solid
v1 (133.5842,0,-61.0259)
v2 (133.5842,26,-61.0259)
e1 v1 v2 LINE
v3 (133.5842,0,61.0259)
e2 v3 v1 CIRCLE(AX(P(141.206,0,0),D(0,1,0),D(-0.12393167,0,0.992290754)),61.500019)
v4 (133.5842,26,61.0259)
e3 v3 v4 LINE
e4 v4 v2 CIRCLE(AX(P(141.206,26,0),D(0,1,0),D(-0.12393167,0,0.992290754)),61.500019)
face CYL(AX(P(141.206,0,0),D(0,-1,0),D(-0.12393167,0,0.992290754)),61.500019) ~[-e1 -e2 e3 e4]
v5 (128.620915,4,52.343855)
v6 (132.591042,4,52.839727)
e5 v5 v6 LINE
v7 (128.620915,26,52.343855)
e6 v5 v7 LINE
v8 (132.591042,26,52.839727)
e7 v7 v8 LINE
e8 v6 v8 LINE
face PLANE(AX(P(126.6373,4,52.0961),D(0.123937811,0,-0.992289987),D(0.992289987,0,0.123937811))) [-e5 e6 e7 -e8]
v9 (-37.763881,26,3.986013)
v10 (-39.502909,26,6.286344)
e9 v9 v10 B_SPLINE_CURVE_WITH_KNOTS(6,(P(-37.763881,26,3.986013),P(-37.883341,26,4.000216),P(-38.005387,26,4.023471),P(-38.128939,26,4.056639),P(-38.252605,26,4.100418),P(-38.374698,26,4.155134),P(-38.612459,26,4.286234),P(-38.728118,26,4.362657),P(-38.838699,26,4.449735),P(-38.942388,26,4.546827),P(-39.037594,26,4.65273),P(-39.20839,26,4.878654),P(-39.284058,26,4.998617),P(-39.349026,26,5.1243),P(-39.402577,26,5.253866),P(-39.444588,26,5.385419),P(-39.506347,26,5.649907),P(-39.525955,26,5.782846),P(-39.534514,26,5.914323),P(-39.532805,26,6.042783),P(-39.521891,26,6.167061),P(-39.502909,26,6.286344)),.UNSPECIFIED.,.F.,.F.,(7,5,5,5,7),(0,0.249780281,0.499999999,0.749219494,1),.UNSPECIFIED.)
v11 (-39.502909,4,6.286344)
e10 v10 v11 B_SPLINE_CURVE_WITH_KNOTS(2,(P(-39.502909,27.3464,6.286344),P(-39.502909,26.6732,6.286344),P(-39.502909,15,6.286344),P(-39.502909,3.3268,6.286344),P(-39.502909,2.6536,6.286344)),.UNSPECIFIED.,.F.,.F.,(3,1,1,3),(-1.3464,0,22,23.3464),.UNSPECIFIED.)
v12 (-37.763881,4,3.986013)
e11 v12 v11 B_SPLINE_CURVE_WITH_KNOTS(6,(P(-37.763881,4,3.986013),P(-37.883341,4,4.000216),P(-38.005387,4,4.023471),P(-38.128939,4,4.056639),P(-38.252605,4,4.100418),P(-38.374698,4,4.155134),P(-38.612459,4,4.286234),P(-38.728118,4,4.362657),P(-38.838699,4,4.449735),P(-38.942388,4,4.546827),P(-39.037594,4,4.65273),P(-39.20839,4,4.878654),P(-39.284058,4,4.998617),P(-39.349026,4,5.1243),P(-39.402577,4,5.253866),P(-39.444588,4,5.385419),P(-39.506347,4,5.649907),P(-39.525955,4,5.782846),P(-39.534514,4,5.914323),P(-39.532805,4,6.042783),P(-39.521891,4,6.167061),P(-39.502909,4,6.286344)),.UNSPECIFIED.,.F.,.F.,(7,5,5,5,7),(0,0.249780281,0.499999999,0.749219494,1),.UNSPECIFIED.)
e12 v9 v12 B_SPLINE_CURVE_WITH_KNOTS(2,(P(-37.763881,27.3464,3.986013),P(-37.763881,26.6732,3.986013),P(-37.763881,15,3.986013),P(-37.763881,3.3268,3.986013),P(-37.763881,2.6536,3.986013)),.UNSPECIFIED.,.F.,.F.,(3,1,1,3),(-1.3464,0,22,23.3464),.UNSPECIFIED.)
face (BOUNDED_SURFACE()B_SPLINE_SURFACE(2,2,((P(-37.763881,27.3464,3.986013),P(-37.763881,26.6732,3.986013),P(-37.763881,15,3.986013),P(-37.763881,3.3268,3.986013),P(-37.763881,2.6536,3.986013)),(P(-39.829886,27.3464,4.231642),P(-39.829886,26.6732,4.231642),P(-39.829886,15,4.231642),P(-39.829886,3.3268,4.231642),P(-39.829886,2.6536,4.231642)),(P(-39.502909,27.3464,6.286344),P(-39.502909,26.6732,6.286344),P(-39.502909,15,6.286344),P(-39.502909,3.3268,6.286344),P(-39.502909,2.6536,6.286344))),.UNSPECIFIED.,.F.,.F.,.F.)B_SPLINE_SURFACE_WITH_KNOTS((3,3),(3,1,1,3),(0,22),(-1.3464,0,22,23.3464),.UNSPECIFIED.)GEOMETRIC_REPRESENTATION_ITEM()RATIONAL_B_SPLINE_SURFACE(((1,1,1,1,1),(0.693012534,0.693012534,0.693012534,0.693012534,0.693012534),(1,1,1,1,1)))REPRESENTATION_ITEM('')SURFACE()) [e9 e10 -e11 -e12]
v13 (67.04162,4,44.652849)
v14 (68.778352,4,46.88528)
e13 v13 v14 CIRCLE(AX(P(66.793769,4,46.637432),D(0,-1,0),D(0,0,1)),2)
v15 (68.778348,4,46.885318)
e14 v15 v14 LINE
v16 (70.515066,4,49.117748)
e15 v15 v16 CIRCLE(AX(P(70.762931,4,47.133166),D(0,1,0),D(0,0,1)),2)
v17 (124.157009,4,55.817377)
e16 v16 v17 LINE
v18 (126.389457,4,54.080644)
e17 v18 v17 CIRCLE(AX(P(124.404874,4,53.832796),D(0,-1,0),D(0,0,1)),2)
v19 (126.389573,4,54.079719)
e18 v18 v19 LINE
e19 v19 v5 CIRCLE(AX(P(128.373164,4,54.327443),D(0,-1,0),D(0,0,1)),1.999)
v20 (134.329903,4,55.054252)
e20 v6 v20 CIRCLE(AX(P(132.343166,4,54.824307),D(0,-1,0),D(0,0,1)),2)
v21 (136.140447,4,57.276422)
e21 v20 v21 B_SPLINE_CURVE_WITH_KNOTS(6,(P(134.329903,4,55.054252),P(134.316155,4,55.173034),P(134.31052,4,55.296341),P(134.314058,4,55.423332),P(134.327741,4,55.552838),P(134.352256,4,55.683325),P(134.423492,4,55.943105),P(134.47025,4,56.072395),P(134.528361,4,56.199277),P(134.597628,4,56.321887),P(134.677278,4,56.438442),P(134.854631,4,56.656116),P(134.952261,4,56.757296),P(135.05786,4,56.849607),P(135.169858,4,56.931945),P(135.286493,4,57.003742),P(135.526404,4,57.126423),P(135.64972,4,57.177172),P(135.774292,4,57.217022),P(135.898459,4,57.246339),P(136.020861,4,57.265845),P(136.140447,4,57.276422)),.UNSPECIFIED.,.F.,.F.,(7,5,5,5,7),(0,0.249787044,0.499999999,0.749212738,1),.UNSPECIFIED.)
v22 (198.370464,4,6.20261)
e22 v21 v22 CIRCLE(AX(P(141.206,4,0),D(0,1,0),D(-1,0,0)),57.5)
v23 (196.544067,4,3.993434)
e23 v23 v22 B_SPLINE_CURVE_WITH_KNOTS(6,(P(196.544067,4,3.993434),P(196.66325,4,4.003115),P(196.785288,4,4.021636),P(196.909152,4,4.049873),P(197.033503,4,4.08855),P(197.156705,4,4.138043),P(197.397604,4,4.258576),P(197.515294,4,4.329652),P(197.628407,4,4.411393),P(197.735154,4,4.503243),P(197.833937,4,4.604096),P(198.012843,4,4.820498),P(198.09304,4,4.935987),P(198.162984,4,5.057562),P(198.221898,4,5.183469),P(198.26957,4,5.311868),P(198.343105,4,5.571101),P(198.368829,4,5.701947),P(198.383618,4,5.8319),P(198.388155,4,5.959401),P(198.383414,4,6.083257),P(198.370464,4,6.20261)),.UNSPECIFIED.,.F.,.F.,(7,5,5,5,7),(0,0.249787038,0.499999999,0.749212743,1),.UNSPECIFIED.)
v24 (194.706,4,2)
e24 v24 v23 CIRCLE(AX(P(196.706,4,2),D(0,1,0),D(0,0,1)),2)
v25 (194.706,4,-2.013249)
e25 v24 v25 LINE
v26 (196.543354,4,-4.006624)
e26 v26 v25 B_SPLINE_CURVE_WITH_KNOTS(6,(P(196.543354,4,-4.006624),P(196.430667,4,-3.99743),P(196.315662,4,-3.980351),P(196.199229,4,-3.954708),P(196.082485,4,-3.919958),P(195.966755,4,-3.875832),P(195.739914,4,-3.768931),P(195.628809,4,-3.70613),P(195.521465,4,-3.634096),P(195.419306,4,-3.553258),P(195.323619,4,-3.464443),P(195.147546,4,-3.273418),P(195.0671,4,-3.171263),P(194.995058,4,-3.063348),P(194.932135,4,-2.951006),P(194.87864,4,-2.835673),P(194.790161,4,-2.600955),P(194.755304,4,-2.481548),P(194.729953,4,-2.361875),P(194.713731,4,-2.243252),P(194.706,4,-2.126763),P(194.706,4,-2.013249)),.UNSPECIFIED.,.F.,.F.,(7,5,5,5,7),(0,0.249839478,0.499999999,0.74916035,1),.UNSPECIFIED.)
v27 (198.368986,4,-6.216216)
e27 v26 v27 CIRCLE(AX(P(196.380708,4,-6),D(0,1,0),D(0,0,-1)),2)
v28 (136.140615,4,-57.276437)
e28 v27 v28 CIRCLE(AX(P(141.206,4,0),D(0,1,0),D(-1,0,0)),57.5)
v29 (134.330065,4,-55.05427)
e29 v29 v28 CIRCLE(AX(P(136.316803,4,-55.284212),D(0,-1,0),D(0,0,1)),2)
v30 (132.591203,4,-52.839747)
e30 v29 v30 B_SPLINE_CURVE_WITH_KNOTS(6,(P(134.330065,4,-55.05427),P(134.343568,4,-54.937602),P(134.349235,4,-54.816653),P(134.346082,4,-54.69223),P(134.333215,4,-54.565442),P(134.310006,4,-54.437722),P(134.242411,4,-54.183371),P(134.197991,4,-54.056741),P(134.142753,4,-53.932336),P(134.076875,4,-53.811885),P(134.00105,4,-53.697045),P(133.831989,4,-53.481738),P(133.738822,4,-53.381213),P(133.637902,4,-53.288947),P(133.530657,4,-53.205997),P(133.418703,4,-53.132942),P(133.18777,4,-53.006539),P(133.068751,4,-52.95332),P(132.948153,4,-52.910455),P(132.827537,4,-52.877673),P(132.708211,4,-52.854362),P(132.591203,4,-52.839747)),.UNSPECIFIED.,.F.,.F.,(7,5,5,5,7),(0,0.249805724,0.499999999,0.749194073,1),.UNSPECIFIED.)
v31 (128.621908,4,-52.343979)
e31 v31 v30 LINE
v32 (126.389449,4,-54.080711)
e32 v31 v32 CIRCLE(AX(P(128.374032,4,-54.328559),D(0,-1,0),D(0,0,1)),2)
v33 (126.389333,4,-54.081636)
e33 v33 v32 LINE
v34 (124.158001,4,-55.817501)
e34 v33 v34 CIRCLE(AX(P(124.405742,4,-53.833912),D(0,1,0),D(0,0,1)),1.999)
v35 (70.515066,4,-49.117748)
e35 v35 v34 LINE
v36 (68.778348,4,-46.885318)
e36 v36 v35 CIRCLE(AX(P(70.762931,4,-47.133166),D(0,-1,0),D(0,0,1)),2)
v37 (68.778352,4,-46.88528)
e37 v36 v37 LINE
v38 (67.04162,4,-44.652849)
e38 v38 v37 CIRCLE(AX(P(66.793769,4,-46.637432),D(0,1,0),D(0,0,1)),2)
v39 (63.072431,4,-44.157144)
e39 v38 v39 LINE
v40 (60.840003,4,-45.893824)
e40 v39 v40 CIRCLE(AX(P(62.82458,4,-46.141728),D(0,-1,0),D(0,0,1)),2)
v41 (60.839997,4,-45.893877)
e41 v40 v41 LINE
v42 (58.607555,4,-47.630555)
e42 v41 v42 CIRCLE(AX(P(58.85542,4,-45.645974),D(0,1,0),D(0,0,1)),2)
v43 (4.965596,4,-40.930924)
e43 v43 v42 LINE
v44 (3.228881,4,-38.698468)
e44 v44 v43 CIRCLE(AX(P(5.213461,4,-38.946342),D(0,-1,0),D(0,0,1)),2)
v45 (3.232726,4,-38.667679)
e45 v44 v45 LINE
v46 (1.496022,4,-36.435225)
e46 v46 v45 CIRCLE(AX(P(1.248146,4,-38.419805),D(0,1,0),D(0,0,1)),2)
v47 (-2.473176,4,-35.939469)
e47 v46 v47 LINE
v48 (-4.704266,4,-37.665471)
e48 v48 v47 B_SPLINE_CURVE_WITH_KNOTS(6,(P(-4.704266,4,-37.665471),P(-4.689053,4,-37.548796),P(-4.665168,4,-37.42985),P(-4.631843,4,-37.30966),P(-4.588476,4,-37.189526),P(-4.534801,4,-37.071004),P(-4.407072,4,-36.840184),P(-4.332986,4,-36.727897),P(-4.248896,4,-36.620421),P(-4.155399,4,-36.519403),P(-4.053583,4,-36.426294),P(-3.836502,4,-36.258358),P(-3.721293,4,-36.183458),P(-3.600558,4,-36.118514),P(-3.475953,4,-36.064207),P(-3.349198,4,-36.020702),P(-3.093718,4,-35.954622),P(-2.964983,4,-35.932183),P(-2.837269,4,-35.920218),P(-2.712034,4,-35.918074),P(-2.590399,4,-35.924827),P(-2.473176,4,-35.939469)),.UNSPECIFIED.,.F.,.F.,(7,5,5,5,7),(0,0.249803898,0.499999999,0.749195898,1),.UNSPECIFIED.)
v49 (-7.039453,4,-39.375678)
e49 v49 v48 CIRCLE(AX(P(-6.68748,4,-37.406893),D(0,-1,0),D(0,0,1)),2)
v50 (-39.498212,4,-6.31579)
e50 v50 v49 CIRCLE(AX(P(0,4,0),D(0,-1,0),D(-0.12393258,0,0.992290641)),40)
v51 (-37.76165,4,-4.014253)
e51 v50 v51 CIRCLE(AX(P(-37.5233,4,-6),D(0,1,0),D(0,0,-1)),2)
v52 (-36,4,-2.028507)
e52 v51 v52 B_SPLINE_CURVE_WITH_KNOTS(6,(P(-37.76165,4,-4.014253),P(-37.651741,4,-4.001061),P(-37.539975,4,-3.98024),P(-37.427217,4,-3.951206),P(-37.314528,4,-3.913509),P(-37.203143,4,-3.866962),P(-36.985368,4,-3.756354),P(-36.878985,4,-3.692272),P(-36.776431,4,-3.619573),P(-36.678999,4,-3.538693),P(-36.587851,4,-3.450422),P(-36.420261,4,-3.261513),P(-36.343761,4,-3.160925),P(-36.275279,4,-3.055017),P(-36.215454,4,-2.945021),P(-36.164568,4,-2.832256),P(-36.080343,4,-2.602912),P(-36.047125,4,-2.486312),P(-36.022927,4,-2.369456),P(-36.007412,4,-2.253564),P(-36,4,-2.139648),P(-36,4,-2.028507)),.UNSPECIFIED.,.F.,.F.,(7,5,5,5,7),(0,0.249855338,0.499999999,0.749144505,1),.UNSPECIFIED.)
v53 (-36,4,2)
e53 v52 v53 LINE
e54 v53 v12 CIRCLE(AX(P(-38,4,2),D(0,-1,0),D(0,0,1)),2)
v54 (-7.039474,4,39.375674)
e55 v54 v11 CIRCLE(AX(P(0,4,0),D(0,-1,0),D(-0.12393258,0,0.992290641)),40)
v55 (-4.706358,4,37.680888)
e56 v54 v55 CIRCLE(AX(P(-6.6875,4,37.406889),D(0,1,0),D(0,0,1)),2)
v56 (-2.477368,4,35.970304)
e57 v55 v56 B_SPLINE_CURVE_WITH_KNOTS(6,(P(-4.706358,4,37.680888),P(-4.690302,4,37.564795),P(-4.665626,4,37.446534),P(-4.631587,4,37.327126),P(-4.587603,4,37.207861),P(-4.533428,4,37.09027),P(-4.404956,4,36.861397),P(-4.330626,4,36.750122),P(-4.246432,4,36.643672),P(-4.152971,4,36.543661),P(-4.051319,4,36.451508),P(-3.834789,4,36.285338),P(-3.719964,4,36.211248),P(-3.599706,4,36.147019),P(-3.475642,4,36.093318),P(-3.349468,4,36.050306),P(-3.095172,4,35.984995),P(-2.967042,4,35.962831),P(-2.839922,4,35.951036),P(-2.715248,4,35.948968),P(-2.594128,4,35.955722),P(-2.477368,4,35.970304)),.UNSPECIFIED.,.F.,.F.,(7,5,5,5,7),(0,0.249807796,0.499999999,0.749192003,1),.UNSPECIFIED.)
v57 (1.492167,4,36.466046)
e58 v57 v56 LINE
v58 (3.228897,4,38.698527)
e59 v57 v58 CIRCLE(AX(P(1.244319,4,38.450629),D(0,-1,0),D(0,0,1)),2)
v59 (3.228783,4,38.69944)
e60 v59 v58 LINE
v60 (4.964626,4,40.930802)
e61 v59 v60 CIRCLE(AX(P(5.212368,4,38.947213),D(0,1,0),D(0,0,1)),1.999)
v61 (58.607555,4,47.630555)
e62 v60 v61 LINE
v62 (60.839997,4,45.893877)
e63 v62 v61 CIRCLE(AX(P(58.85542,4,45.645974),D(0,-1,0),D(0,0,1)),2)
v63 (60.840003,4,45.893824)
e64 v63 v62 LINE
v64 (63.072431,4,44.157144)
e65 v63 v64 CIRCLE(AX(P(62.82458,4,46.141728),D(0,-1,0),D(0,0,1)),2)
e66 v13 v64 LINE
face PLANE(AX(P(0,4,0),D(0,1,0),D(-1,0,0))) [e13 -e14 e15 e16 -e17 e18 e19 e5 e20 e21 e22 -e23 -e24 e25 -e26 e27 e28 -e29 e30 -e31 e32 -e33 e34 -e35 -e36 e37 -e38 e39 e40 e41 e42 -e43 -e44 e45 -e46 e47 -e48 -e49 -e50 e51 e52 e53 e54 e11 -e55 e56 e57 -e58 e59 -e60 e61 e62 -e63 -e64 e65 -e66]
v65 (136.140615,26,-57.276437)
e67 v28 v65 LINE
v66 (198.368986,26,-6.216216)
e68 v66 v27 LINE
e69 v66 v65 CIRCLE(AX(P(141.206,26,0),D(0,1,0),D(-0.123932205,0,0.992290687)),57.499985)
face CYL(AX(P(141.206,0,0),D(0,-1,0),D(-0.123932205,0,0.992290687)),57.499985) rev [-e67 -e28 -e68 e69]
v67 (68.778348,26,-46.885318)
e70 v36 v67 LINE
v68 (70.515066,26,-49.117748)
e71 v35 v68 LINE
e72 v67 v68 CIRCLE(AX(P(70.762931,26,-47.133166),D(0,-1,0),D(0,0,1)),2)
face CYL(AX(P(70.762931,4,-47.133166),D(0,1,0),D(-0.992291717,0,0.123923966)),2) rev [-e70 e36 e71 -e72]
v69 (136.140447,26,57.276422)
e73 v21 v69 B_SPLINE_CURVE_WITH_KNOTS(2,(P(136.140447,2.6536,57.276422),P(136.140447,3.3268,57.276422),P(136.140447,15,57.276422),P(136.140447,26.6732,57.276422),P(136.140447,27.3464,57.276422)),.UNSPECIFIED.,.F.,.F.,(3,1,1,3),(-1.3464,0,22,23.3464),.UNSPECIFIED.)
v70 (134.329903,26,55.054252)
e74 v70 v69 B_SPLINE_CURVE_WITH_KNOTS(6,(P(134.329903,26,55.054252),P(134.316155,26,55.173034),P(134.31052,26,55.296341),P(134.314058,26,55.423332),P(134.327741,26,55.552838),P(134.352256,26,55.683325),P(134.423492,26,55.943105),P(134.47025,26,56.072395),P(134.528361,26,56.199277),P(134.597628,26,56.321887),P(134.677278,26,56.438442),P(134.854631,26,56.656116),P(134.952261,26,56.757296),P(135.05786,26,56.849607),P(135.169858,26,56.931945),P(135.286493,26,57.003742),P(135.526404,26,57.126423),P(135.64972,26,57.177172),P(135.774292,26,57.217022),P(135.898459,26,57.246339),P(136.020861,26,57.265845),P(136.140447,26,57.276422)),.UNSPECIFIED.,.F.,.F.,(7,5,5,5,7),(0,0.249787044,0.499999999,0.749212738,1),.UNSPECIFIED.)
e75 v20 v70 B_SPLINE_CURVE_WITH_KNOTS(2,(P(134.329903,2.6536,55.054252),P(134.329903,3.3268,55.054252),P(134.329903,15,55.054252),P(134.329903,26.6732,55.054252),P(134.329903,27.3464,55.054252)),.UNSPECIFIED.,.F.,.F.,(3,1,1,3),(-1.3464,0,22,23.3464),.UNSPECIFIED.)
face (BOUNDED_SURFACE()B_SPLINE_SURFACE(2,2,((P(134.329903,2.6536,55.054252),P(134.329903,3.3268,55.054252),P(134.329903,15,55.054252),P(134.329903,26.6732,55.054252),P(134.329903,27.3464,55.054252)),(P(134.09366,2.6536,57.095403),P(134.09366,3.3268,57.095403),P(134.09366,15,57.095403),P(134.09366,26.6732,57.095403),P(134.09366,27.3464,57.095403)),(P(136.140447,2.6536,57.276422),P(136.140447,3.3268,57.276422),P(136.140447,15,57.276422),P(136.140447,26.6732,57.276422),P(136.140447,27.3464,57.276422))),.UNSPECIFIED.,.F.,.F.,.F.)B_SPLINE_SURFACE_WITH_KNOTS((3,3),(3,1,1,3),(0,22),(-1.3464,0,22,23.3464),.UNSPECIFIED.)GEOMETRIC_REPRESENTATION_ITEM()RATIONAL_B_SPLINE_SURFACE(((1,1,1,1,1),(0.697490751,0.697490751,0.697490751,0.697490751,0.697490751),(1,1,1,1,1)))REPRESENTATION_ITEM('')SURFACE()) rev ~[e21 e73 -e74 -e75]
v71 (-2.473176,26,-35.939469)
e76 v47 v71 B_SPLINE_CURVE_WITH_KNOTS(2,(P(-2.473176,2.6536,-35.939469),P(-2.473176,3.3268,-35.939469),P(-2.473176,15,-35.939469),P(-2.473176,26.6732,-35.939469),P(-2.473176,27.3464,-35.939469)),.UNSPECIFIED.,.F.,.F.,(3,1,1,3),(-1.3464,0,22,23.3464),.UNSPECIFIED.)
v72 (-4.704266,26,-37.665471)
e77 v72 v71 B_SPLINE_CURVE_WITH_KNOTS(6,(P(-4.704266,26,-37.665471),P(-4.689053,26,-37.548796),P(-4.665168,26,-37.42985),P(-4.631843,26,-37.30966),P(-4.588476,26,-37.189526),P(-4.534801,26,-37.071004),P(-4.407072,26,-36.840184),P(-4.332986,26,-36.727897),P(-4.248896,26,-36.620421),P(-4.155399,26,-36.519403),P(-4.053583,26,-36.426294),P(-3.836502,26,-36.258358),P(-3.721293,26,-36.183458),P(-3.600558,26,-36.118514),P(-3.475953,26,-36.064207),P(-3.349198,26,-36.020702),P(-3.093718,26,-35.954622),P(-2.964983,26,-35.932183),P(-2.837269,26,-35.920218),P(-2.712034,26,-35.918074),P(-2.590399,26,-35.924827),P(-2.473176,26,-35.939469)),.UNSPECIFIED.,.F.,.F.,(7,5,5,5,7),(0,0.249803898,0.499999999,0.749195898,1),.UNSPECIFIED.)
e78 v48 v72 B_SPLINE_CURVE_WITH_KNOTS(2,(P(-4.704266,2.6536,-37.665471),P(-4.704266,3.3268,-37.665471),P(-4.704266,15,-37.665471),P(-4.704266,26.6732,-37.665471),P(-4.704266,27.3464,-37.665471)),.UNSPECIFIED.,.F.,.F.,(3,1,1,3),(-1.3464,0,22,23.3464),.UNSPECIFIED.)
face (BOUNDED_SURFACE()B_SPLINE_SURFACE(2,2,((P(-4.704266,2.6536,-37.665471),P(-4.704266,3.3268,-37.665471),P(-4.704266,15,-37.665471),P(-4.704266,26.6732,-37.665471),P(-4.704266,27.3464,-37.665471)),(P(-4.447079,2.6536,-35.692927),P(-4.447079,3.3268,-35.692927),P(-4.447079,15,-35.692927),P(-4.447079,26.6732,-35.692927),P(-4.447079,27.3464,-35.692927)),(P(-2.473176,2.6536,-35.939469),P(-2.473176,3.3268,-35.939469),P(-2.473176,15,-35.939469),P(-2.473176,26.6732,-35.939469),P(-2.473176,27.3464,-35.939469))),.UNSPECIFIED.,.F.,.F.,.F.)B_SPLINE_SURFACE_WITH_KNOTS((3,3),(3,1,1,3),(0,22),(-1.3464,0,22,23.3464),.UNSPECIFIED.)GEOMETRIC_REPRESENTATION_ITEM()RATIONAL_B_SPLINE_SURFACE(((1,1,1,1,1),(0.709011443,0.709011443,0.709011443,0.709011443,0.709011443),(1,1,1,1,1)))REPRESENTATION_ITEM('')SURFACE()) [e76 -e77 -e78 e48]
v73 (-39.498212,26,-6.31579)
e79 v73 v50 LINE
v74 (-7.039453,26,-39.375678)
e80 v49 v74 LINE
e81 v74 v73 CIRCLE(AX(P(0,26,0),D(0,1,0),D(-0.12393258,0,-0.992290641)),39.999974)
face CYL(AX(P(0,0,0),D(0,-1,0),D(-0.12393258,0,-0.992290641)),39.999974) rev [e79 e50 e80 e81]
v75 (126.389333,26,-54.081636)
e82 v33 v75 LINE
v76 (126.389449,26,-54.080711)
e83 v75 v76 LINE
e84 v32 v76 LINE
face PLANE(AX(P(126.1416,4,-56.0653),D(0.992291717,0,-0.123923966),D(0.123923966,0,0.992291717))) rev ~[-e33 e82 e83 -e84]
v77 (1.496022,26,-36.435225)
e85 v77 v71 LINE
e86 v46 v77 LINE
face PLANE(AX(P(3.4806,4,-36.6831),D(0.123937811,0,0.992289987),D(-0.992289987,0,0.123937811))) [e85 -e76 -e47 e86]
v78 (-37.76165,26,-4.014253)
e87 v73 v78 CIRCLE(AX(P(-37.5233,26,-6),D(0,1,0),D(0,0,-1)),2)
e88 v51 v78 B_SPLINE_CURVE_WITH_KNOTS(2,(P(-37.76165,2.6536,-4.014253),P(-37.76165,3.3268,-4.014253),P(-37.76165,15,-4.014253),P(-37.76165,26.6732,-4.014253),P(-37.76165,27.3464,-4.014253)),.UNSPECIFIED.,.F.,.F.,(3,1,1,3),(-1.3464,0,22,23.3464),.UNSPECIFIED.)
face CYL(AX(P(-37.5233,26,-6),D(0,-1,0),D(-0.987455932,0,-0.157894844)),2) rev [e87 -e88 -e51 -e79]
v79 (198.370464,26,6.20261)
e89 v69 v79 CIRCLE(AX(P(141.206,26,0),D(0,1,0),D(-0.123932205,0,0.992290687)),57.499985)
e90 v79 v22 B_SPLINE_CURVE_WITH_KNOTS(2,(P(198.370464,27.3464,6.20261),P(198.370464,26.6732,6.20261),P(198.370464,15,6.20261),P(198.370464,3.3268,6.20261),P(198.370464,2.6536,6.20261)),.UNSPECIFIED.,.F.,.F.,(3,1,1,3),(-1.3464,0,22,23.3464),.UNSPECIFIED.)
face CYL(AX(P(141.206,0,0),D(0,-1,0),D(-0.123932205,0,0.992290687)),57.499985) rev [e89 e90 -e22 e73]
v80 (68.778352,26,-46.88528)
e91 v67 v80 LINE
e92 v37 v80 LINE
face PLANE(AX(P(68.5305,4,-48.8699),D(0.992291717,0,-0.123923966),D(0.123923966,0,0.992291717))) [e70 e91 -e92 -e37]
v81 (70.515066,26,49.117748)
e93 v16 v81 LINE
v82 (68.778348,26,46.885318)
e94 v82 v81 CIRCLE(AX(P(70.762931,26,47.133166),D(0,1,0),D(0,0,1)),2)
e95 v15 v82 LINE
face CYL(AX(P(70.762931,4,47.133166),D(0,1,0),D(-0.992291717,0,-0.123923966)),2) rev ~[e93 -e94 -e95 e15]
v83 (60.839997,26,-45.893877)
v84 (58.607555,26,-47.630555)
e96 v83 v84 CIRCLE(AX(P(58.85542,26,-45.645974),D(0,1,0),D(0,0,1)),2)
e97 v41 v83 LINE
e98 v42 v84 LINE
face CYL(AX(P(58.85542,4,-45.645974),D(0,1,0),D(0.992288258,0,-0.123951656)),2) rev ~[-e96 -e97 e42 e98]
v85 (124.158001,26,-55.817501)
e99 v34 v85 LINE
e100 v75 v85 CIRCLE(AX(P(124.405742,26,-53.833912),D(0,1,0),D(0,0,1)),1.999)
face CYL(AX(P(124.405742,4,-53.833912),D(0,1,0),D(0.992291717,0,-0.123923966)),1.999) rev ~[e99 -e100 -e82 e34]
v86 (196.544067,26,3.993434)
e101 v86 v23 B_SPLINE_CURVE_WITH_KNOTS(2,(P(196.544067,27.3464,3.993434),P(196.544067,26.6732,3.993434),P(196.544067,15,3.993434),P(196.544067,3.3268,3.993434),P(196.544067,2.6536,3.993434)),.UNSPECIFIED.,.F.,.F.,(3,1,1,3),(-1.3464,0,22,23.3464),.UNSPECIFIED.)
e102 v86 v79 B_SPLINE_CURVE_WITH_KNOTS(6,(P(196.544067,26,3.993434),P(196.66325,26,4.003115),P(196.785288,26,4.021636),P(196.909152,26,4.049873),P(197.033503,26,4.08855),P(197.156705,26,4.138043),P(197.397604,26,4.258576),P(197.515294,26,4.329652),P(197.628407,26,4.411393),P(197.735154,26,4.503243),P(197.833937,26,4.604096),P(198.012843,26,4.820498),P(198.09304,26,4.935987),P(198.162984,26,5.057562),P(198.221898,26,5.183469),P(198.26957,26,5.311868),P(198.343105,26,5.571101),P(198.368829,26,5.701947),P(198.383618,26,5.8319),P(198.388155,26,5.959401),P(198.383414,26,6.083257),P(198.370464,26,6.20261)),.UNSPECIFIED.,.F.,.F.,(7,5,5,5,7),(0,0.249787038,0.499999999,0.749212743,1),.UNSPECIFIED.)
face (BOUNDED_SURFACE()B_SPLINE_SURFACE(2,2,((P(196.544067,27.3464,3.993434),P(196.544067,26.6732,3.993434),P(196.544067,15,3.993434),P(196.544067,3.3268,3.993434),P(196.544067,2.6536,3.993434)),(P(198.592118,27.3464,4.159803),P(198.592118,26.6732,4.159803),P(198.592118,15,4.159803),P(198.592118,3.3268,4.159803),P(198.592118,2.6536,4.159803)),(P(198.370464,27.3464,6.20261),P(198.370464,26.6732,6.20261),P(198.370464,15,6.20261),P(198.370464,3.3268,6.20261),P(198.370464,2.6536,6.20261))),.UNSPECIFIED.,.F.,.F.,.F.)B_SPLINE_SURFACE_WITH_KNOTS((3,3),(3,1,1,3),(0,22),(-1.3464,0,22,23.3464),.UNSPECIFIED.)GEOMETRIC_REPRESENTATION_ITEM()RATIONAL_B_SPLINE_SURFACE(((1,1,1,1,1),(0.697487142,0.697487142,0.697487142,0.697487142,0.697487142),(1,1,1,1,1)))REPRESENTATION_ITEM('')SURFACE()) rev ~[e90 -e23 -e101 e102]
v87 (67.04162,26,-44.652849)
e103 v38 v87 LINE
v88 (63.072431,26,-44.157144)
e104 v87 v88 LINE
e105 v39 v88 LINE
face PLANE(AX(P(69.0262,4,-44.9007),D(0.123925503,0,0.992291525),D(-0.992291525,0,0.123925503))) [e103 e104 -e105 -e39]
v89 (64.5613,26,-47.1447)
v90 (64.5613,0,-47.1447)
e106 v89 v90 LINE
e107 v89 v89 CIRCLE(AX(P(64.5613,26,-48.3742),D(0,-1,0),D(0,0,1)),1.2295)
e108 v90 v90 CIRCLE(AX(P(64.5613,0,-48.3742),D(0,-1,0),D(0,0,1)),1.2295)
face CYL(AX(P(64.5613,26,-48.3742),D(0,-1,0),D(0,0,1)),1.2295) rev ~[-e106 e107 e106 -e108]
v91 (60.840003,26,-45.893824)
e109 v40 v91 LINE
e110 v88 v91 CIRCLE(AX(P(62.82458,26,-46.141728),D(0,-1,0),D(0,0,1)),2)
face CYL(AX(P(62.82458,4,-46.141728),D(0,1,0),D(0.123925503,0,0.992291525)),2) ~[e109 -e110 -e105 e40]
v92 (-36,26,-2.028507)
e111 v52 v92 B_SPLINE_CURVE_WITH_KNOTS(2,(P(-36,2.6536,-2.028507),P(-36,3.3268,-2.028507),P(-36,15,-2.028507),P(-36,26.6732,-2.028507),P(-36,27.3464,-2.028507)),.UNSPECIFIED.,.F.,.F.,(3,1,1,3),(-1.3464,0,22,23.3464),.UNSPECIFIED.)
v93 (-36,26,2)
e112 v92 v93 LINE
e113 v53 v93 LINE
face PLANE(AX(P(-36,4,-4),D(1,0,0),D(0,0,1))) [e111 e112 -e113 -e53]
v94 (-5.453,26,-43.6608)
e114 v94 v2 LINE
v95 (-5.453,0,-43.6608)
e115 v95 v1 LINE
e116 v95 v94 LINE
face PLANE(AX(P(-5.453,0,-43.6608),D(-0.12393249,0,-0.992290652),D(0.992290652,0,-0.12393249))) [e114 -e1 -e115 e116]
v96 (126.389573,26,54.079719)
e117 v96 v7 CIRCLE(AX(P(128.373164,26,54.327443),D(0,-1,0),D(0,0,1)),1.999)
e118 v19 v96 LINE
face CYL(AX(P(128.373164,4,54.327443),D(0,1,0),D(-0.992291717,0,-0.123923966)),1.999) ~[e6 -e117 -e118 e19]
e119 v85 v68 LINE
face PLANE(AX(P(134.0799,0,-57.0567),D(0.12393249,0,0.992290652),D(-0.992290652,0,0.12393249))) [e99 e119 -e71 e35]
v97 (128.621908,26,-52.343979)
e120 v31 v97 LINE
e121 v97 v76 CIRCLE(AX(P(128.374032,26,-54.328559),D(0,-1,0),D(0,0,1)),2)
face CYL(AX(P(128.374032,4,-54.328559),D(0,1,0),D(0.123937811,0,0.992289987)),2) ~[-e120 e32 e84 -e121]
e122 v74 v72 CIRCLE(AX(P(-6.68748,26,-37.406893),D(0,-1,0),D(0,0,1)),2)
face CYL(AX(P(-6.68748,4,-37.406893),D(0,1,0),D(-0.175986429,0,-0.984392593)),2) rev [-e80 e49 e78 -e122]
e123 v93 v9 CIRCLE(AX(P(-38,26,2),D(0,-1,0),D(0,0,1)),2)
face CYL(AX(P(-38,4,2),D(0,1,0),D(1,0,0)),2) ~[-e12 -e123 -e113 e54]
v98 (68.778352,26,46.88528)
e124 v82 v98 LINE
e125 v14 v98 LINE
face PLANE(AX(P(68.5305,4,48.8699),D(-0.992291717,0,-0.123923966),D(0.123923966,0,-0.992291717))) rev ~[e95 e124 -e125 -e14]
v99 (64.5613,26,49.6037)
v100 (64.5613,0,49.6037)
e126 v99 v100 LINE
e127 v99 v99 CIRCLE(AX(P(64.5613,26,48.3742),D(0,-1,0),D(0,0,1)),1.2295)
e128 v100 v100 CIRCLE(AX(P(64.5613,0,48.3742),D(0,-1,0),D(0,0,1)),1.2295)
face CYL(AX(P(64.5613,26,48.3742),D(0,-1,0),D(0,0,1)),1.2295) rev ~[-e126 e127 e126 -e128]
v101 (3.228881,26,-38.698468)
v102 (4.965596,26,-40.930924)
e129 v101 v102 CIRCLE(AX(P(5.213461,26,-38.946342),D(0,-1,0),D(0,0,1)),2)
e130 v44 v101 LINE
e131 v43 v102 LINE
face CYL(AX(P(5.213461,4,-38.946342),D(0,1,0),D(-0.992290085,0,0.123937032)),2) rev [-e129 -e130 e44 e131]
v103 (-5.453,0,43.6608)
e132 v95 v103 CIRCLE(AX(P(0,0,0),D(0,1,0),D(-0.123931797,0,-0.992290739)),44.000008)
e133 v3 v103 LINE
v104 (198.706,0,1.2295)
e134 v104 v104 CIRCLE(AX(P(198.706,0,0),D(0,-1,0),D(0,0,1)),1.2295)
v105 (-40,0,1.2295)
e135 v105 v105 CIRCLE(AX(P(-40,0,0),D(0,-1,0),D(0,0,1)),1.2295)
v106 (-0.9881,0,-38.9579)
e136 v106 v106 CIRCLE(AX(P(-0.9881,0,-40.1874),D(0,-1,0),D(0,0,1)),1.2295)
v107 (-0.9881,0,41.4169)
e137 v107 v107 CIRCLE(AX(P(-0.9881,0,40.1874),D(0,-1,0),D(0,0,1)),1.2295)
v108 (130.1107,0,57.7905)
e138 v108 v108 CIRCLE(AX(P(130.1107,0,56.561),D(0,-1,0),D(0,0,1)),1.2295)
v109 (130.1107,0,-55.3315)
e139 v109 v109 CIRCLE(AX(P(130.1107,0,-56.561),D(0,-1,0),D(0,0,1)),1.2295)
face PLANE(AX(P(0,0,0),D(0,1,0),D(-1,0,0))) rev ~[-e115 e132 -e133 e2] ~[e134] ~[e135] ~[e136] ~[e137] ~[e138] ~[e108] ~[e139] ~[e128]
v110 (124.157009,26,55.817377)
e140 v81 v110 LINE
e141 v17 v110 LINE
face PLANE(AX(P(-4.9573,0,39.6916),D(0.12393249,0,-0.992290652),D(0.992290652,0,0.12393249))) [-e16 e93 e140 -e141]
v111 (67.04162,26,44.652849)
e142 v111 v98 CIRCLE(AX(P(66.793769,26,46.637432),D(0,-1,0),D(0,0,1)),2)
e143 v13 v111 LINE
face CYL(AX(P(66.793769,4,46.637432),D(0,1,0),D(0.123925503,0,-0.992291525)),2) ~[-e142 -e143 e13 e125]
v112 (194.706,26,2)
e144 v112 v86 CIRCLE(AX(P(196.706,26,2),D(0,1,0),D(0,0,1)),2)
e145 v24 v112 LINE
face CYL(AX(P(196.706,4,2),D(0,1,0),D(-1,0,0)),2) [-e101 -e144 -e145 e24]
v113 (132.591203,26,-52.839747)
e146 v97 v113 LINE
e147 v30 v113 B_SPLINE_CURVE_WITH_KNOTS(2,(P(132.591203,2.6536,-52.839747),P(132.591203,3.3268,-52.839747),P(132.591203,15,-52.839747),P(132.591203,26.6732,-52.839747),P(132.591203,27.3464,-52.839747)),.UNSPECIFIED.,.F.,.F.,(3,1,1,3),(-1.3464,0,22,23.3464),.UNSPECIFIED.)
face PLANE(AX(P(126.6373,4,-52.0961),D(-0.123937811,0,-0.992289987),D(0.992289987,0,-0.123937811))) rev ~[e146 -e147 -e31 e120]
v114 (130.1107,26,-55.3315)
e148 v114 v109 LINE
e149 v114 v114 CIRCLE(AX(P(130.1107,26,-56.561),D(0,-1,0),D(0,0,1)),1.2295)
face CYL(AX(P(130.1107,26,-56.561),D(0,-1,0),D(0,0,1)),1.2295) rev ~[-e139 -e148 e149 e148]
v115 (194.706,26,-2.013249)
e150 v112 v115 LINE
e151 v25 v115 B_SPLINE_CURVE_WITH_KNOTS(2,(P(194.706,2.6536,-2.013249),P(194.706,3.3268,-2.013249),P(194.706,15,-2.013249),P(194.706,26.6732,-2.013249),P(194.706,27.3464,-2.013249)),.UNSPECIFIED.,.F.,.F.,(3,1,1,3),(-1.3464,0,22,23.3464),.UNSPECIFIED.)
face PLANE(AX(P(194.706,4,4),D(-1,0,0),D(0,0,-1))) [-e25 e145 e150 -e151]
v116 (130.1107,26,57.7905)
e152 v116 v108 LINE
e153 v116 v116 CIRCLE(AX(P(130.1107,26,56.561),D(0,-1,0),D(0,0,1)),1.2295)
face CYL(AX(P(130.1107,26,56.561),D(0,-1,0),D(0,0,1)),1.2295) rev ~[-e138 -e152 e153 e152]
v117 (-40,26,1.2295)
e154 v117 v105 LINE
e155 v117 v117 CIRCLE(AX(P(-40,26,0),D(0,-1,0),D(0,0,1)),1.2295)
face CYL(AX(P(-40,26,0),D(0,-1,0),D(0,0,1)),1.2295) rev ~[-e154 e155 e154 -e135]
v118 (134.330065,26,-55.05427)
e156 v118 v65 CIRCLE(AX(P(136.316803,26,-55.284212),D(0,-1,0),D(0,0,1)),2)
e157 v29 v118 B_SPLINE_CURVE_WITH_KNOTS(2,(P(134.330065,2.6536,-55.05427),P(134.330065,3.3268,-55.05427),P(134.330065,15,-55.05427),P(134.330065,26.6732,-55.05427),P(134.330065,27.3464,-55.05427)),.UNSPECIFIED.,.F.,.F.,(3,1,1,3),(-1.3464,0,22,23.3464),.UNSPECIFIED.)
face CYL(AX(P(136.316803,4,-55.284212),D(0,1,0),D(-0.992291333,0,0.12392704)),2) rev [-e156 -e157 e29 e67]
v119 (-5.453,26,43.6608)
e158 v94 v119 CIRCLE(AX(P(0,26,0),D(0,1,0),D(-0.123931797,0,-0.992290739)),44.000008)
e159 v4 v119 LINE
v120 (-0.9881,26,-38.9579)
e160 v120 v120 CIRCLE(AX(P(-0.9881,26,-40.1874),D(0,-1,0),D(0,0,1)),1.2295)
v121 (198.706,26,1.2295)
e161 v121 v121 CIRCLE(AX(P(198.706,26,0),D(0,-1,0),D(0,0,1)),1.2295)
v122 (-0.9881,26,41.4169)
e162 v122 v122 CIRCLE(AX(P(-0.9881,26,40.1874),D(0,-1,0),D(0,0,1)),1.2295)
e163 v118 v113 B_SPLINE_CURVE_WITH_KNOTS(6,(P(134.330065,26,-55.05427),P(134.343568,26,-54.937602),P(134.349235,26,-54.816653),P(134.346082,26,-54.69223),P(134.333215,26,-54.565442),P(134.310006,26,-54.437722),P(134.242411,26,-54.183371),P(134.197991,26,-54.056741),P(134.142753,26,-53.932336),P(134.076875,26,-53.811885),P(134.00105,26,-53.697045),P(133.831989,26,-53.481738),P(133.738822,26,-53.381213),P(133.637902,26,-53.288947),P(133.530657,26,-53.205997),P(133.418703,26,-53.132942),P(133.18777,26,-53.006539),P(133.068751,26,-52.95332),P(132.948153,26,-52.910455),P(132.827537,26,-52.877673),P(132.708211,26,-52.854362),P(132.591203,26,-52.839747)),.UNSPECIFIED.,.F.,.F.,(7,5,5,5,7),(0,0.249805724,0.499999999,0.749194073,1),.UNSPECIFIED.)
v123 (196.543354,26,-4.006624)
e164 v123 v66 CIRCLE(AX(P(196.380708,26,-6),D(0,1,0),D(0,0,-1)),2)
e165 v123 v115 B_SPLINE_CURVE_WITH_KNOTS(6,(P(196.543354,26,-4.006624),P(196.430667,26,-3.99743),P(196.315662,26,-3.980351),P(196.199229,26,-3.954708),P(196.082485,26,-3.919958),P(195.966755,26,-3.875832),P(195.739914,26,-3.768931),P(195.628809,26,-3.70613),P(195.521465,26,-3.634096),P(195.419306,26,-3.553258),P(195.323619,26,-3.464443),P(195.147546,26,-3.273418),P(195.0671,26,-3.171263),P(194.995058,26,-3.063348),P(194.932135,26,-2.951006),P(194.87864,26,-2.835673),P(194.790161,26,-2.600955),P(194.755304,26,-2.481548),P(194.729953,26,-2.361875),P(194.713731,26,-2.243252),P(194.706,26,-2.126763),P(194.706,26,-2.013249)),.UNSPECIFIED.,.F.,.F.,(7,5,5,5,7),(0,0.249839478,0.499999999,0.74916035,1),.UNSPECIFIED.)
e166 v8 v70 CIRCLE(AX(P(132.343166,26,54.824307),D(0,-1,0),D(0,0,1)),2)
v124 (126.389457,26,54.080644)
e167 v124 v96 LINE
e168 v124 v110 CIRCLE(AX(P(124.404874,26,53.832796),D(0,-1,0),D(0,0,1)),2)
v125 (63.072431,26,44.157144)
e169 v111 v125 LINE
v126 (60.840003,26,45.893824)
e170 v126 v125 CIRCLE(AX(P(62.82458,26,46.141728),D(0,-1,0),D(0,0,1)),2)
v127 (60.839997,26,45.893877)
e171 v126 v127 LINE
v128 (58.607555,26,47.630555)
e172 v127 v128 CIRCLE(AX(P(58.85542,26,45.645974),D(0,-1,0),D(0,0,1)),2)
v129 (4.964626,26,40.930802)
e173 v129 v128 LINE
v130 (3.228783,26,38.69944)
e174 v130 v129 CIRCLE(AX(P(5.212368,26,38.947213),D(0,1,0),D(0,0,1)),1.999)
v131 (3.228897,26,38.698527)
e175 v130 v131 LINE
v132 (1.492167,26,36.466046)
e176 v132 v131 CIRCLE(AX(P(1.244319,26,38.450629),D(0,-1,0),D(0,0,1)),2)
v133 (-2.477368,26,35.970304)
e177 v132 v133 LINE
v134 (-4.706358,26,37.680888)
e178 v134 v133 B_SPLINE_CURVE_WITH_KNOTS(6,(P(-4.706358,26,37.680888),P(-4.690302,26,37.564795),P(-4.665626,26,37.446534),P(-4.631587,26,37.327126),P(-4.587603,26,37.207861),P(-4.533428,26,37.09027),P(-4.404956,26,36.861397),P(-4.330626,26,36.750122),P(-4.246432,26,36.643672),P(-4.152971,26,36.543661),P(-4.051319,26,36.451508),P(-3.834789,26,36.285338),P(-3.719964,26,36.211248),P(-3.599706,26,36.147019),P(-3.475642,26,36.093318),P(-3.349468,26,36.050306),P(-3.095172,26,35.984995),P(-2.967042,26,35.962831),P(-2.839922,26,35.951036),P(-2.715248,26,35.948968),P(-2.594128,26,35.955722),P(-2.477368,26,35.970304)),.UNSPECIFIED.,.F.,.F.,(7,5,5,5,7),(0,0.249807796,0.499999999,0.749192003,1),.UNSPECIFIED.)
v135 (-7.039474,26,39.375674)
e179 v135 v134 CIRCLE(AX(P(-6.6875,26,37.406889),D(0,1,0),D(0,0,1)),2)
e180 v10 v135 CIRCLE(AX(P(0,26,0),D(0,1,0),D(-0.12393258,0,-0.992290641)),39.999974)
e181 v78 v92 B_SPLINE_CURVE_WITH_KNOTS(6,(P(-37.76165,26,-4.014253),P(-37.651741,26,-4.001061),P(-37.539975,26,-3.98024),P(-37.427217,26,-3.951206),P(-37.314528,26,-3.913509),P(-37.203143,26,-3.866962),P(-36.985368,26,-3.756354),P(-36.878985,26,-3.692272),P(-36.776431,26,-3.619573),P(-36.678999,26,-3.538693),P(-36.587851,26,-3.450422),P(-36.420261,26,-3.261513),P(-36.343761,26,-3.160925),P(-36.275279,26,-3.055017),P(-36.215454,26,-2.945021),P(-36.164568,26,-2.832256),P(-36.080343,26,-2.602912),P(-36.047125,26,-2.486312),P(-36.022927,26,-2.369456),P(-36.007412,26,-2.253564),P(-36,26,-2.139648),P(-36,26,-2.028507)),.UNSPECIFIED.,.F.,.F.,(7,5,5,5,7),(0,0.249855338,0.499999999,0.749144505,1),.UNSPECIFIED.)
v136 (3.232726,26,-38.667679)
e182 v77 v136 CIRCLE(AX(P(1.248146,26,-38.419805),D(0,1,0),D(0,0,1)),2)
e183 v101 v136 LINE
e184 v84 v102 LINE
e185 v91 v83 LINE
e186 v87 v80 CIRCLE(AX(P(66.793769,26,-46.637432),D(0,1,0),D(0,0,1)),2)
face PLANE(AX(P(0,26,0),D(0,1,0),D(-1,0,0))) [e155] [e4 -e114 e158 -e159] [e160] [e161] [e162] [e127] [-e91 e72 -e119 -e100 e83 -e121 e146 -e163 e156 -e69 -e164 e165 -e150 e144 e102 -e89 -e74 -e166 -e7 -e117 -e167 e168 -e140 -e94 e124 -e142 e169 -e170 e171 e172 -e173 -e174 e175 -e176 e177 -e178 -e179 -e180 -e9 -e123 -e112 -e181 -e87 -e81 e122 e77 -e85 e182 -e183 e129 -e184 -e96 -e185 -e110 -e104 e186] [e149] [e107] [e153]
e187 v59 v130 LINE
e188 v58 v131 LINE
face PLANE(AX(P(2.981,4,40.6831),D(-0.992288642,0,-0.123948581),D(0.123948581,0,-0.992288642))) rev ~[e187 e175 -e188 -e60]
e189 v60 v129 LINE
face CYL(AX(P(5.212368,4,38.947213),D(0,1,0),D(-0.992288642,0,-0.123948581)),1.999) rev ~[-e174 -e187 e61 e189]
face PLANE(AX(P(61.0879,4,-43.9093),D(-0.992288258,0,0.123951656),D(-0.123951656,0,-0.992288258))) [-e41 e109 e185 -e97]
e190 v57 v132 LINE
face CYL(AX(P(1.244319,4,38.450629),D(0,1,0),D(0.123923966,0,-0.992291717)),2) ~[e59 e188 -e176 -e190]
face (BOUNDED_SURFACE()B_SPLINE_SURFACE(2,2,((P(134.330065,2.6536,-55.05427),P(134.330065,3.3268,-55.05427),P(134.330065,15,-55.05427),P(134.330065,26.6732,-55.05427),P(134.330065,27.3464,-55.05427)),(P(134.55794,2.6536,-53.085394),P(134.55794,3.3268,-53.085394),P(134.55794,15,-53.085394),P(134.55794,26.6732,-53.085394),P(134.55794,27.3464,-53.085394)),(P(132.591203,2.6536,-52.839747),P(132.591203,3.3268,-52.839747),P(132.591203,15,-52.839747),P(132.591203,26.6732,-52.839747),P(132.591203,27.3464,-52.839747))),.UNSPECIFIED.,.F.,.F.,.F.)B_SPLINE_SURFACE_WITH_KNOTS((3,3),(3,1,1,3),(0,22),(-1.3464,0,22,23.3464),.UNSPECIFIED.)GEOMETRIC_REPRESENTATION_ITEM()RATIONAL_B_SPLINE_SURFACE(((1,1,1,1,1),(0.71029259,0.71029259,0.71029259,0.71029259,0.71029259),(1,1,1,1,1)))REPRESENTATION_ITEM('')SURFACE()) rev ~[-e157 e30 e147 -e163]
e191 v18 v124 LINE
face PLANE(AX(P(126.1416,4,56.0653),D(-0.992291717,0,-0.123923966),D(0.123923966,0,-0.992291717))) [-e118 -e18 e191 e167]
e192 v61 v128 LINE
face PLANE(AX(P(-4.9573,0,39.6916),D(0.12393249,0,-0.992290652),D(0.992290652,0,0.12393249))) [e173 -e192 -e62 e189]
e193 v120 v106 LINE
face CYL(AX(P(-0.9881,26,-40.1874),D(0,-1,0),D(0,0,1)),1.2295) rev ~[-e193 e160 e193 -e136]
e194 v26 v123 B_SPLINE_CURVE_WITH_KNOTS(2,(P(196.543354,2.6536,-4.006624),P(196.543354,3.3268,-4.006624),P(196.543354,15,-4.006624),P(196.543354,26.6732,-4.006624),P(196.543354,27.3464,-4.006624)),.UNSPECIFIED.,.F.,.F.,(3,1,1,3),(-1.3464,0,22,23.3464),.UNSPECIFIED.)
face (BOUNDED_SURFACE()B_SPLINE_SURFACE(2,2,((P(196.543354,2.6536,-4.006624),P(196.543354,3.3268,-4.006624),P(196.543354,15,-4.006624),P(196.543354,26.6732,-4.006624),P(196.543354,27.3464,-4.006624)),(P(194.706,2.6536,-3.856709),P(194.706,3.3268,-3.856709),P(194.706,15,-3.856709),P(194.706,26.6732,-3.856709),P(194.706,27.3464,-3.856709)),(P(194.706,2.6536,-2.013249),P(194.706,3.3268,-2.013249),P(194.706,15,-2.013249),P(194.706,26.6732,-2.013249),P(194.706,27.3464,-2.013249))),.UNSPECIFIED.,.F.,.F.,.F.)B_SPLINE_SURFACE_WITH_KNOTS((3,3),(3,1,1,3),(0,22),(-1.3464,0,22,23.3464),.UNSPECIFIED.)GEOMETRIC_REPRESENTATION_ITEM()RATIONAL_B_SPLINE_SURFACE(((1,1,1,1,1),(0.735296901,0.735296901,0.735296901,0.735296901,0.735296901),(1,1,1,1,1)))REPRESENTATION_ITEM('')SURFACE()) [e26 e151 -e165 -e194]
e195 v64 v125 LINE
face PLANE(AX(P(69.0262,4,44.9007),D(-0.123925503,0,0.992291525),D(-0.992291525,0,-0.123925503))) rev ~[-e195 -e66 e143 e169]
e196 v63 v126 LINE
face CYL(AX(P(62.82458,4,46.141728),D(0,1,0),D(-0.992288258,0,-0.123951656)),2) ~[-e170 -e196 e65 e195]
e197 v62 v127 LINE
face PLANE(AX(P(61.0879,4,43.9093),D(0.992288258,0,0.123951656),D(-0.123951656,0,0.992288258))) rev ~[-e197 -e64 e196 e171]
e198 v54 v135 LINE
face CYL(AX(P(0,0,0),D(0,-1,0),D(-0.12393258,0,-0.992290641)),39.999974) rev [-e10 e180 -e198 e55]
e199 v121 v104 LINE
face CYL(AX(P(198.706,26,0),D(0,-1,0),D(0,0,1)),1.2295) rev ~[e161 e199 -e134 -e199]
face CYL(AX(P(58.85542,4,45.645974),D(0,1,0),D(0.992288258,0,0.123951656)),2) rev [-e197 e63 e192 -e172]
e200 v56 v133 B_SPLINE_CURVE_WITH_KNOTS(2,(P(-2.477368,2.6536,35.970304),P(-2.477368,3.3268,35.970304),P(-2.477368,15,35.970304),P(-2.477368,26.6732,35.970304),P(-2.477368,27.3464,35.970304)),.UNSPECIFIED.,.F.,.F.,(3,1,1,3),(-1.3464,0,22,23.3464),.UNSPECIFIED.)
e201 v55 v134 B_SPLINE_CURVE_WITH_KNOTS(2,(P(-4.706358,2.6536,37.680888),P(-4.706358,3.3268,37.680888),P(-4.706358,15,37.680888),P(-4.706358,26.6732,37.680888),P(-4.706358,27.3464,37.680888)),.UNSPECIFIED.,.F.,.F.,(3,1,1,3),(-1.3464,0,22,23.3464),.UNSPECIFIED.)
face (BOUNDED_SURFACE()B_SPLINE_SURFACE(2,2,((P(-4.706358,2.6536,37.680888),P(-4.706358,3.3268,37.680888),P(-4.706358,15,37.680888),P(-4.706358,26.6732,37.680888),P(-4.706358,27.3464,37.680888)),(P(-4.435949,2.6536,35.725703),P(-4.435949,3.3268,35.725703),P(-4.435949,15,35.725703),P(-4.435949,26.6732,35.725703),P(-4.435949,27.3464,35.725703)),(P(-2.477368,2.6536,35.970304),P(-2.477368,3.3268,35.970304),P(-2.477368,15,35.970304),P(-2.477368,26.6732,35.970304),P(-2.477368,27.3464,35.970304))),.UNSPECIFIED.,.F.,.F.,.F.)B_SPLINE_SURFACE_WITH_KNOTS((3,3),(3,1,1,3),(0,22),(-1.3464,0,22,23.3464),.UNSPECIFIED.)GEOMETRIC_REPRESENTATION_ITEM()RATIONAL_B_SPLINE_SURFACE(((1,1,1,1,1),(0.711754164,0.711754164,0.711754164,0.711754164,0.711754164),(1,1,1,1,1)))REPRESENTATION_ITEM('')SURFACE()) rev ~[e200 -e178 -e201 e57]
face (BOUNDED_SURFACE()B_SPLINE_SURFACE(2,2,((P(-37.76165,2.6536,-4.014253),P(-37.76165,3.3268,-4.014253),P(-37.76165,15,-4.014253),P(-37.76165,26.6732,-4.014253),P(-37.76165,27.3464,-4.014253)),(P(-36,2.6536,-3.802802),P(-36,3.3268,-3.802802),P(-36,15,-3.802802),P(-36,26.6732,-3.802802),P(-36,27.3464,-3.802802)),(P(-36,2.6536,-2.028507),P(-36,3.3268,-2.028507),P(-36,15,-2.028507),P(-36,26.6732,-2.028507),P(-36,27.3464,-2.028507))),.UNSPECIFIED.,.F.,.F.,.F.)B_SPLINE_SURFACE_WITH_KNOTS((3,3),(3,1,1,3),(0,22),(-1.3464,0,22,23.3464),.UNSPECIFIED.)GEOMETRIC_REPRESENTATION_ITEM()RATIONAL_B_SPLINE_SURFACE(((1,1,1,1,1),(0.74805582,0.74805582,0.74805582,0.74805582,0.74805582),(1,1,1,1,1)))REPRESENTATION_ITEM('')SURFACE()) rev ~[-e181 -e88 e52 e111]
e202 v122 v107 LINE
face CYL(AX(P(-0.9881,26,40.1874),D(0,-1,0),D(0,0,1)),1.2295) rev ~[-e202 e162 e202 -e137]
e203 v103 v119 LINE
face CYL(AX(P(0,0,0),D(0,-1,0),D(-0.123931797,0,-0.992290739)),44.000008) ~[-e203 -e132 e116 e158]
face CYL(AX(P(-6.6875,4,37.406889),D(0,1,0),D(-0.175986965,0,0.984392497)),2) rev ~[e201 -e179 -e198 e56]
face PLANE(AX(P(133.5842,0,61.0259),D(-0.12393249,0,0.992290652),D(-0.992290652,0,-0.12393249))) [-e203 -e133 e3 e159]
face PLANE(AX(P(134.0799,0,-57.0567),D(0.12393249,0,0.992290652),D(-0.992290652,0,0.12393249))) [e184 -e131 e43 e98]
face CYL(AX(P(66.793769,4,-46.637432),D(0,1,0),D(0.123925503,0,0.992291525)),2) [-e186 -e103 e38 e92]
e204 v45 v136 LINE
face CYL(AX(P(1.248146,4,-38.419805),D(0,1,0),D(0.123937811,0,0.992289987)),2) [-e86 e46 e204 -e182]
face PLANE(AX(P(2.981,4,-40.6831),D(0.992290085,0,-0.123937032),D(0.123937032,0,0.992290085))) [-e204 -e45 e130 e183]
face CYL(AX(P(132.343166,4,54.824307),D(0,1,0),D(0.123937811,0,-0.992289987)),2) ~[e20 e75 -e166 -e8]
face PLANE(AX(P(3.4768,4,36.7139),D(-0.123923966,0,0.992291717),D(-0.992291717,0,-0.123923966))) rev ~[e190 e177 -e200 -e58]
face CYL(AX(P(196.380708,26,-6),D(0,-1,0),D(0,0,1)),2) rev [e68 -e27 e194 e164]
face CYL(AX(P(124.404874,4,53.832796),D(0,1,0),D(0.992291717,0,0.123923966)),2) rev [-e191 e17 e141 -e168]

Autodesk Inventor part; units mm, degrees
ref_plane "YZ Plane" through (0, 0, 0) normal (1, 0, 0) x (0, 1, 0)
ref_plane "XZ Plane" through (0, 0, 0) normal (0, 1, 0) x (-1, 0, 0)
ref_plane "XY Plane" through (0, 0, 0) normal (0, 0, 1) x (1, 0, 0)
sketch "Sketch2" plane through (0, 0, 0) normal (0, 1, 0) x (-1, 0, 0)
  circle A0 centre (0, 0) radius 40
  circle A1 centre (-141.206, 0) radius 57.5
  line L0 (4.9573, -39.6916) -> (-134.0799, -57.0567)
  line L1 (4.9573, 39.6916) -> (-134.0799, 57.0567)
  dimension "d5" = 141.206
  dimension "d6" = 80
  dimension "d7" = 115
extrude "Extrusion2" add sketch "Sketch2" along normal blind 4
sketch "Sketch14" plane through (0, 0, 0) normal (0, 1, 0) x (-1, 0, 0)
  arc A0 (4.9573, -39.6916) -> (4.9573, 39.6916) centre (0, 0) ccw projected
  arc A1 (5.453, -43.6608) -> (5.453, 43.6608) centre (0, 0) ccw
  arc A2 (-134.0799, 57.0567) -> (-134.0799, -57.0567) centre (-141.206, 0) ccw projected
  arc A3 (-133.5842, 61.0259) -> (-133.5842, -61.0259) centre (-141.206, 0) ccw
  line L0 (5.453, -43.6608) -> (-133.5842, -61.0259)
  line L1 (-133.5842, 61.0259) -> (5.453, 43.6608)
  line L2 (-134.0799, -57.0567) -> (4.9573, -39.6916)
  arc A4 (4.9573, -39.6916) -> (4.9573, 39.6916) centre (0, 0) ccw
  line L3 (4.9573, 39.6916) -> (-134.0799, 57.0567)
  arc A5 (-134.0799, 57.0567) -> (-134.0799, -57.0567) centre (-141.206, 0) ccw
  dimension "d53" = 4
  dimension "d54" = 4
  dimension "d55" = 4
extrude "Extrusion11" add sketch "Sketch14" along normal blind 26
sketch "Sketch27" plane through (0, 4, 0) normal (0, 1, 0) x (1, 0, 0)
  line L0 (-40, 4) -> (-36, 4)
  line L1 (-36, 4) -> (-36, -4)
  line L2 (-36, -4) -> (-40, -4)
  line L3 (-40, -4) -> (-40, 4)
  line L4 (-40, 4) -> (-36, -4) construction
  line L5 (-36, 4) -> (-40, -4) construction
  arc A0 (-4.9573, 39.6916) -> (-4.9573, -39.6916) centre (0, 0) ccw projected
  line L6 (-4.9573, 39.6916) -> (134.0799, 57.0567) projected
  arc A1 (134.0799, -57.0567) -> (134.0799, 57.0567) centre (141.206, 0) ccw projected
  line L7 (194.706, 4) -> (198.706, 4)
  line L8 (198.706, 4) -> (198.706, -4)
  line L9 (198.706, -4) -> (194.706, -4)
  line L10 (194.706, -4) -> (194.706, 4)
  line L11 (194.706, 4) -> (198.706, -4) construction
  line L12 (198.706, 4) -> (194.706, -4) construction
  line L13 (134.0799, 57.0567) -> (-4.9573, 39.6916) projected
  line L14 (-4.9573, 39.6916) -> (2.981, 40.6831)
  line L15 (2.981, 40.6831) -> (3.4806, 36.6831)
  line L16 (3.4806, 36.6831) -> (-4.4577, 35.6916)
  line L17 (-4.4577, 35.6916) -> (-4.9573, 39.6916)
  line L18 (134.0799, -57.0567) -> (-4.9573, -39.6916) projected
  line L19 (-4.9573, -39.6916) -> (2.981, -40.6831)
  line L20 (2.981, -40.6831) -> (3.4768, -36.7139)
  line L21 (3.4768, -36.7139) -> (-4.4616, -35.7225)
  line L22 (-4.4616, -35.7225) -> (-4.9573, -39.6916)
  arc A2 (134.0799, -57.0567) -> (134.0799, 57.0567) centre (141.206, 0) ccw projected
  line L23 (134.0799, 57.0567) -> (126.1416, 56.0653)
  line L24 (126.1416, 56.0653) -> (126.6373, 52.0961)
  line L25 (126.6373, 52.0961) -> (134.5756, 53.0876)
  line L26 (134.5756, 53.0876) -> (134.0799, 57.0567)
  line L27 (134.0799, -57.0567) -> (126.1416, -56.0653)
  line L28 (126.1416, -56.0653) -> (126.6373, -52.0961)
  line L29 (126.6373, -52.0961) -> (134.5756, -53.0876)
  line L30 (134.5756, -53.0876) -> (134.0799, -57.0567)
  line L31 (60.5921, 47.8784) -> (68.5305, 48.8699)
  line L32 (68.5305, 48.8699) -> (69.0262, 44.9007)
  line L33 (69.0262, 44.9007) -> (61.0879, 43.9093)
  line L34 (61.0879, 43.9093) -> (60.5921, 47.8784)
  line L35 (-4.9573, -39.6916) -> (134.0799, -57.0567) projected
  line L36 (60.5921, -47.8784) -> (68.5305, -48.8699)
  line L37 (68.5305, -48.8699) -> (69.0262, -44.9007)
  line L38 (69.0262, -44.9007) -> (61.0879, -43.9093)
  line L39 (61.0879, -43.9093) -> (60.5921, -47.8784)
  point P0 (-38, 0)
  point P1 (-38, 0)
  point P2 (-38, 0)
  point P3 (196.706, 0)
  point P4 (196.706, 0)
  dimension "d147" = 8
  dimension "d148" = 4
  dimension "d152" = 4
  dimension "d153" = 8
  dimension "d155" = 8
  dimension "d156" = 4
  dimension "d157" = 8
  dimension "d159" = 4
  dimension "d160" = 8
  dimension "d161" = 4
  dimension "d162" = 8
  dimension "d163" = 4
  dimension "d181" = 8
  dimension "d182" = 4
  dimension "d183" = 8
  dimension "d184" = 4
  dimension "d188" = 58.0587
  dimension "d189" = 58.0587
extrude "Extrusion19" add sketch "Sketch27" along normal up to surface (22 mm away) contours L0 A0 L3 | L0 L1 L2 A0 | A0 L2 L3 | L6 L15 L16 L17 | L22 L21 L20 L18 | L6 L32 L33 L34 | L39 L38 L37 L18 | L6 L26 L25 L24 | L28 L29 L30 L18 | L7 L8 A1 | A1 L9 L10 L7 | L8 L9 A1
fillet "Fillet4" radius 2 32 edges at (-39.7995, 15, -4) (-36, 15, -4) (-36, 15, 4) (-39.7995, 15, 4) (-4.9573, 15, -39.6916) (-4.4577, 15, -35.6916) (3.4806, 15, -36.6831) (2.981, 15, -40.6831) (-4.9573, 15, 39.6916) (-4.4616, 15, 35.7225) (3.4768, 15, 36.7139) (2.981, 15, 40.6831) (126.6373, 15, -52.0961) (126.1416, 15, -56.0653) (134.0799, 15, -57.0567) (134.5756, 15, -53.0876) (126.1416, 15, 56.0653) (126.6373, 15, 52.0961) (134.5756, 15, 53.0876) (134.0799, 15, 57.0567) (198.5667, 15, -4) (194.706, 15, -4) (194.706, 15, 4) (198.5667, 15, 4) (61.0879, 15, -43.9093) (60.5921, 15, -47.8784) (69.0262, 15, -44.9007) (68.5305, 15, -48.8699) (60.5921, 15, 47.8784) (61.0879, 15, 43.9093) (69.0262, 15, 44.9007) (68.5305, 15, 48.8699)
sketch "Sketch28" plane through (0, 26, 0) normal (0, 1, 0) x (1, 0, 0)
  arc A0 (-4.9573, 39.6916) -> (-39.7995, 4) centre (0, 0) ccw projected
  line L0 (2.981, 40.6831) -> (126.1416, 56.0653) projected
  arc A1 (198.5667, 4) -> (134.0799, 57.0567) centre (141.206, 0) ccw projected
  line L1 (126.1416, -56.0653) -> (2.981, -40.6831) projected
  line L2 (3.4806, 36.6831) -> (2.981, 40.6831) projected
  line L3 (126.1416, 56.0653) -> (126.6373, 52.0961) projected
  line L4 (2.981, -40.6831) -> (3.4768, -36.7139) projected
  line L5 (126.6373, -52.0961) -> (126.1416, -56.0653) projected
  arc A2 (70.515, 49.1178) -> (68.7783, 46.8853) centre (70.7629, 47.1332) ccw projected
  line L6 (64.5613, 48.3742) -> (70.515, 49.1178)
  arc A3 (68.7783, -46.8853) -> (70.515, -49.1178) centre (70.7629, -47.1332) ccw projected
  line L7 (64.5613, -48.3742) -> (70.515, -49.1178)
  point P0 (-40, 0)
  point P1 (-0.9881, 40.1874)
  point P2 (130.1107, 56.561)
  point P3 (198.706, 0)
  point P4 (130.1107, -56.561)
  point P5 (-0.9881, -40.1874)
  dimension "d176" = 4
  dimension "d177" = 4
  dimension "d178" = 4
  dimension "d179" = 4
  dimension "d186" = 6
  dimension "d187" = 6
hole "Hole7" at (-40, 26, 0) at (-0.9881, 26, -40.1874) at (130.1107, 26, -56.561) at (198.706, 26, 0) at (130.1107, 26, 56.561) at (-0.9881, 26, 40.1874) at (64.5613, 26, -48.3742) at (64.5613, 26, 48.3742) direction (0, -1, 0) diameter 2.459 end through all thread size "M3x0.5" class "6H" standard "ISO Metric profile"
equation "\"d53\" = d54"
equation "\"d55\" = d54"
equation "\"d155\" = d147"
equation "\"d156\" = d148"
equation "\"d157\" = d147"
equation "\"d159\" = d148"
equation "\"d160\" = d147"
equation "\"d161\" = d148"
equation "\"d162\" = d147"
equation "\"d163\" = d148"
properties part number "111-base template"
